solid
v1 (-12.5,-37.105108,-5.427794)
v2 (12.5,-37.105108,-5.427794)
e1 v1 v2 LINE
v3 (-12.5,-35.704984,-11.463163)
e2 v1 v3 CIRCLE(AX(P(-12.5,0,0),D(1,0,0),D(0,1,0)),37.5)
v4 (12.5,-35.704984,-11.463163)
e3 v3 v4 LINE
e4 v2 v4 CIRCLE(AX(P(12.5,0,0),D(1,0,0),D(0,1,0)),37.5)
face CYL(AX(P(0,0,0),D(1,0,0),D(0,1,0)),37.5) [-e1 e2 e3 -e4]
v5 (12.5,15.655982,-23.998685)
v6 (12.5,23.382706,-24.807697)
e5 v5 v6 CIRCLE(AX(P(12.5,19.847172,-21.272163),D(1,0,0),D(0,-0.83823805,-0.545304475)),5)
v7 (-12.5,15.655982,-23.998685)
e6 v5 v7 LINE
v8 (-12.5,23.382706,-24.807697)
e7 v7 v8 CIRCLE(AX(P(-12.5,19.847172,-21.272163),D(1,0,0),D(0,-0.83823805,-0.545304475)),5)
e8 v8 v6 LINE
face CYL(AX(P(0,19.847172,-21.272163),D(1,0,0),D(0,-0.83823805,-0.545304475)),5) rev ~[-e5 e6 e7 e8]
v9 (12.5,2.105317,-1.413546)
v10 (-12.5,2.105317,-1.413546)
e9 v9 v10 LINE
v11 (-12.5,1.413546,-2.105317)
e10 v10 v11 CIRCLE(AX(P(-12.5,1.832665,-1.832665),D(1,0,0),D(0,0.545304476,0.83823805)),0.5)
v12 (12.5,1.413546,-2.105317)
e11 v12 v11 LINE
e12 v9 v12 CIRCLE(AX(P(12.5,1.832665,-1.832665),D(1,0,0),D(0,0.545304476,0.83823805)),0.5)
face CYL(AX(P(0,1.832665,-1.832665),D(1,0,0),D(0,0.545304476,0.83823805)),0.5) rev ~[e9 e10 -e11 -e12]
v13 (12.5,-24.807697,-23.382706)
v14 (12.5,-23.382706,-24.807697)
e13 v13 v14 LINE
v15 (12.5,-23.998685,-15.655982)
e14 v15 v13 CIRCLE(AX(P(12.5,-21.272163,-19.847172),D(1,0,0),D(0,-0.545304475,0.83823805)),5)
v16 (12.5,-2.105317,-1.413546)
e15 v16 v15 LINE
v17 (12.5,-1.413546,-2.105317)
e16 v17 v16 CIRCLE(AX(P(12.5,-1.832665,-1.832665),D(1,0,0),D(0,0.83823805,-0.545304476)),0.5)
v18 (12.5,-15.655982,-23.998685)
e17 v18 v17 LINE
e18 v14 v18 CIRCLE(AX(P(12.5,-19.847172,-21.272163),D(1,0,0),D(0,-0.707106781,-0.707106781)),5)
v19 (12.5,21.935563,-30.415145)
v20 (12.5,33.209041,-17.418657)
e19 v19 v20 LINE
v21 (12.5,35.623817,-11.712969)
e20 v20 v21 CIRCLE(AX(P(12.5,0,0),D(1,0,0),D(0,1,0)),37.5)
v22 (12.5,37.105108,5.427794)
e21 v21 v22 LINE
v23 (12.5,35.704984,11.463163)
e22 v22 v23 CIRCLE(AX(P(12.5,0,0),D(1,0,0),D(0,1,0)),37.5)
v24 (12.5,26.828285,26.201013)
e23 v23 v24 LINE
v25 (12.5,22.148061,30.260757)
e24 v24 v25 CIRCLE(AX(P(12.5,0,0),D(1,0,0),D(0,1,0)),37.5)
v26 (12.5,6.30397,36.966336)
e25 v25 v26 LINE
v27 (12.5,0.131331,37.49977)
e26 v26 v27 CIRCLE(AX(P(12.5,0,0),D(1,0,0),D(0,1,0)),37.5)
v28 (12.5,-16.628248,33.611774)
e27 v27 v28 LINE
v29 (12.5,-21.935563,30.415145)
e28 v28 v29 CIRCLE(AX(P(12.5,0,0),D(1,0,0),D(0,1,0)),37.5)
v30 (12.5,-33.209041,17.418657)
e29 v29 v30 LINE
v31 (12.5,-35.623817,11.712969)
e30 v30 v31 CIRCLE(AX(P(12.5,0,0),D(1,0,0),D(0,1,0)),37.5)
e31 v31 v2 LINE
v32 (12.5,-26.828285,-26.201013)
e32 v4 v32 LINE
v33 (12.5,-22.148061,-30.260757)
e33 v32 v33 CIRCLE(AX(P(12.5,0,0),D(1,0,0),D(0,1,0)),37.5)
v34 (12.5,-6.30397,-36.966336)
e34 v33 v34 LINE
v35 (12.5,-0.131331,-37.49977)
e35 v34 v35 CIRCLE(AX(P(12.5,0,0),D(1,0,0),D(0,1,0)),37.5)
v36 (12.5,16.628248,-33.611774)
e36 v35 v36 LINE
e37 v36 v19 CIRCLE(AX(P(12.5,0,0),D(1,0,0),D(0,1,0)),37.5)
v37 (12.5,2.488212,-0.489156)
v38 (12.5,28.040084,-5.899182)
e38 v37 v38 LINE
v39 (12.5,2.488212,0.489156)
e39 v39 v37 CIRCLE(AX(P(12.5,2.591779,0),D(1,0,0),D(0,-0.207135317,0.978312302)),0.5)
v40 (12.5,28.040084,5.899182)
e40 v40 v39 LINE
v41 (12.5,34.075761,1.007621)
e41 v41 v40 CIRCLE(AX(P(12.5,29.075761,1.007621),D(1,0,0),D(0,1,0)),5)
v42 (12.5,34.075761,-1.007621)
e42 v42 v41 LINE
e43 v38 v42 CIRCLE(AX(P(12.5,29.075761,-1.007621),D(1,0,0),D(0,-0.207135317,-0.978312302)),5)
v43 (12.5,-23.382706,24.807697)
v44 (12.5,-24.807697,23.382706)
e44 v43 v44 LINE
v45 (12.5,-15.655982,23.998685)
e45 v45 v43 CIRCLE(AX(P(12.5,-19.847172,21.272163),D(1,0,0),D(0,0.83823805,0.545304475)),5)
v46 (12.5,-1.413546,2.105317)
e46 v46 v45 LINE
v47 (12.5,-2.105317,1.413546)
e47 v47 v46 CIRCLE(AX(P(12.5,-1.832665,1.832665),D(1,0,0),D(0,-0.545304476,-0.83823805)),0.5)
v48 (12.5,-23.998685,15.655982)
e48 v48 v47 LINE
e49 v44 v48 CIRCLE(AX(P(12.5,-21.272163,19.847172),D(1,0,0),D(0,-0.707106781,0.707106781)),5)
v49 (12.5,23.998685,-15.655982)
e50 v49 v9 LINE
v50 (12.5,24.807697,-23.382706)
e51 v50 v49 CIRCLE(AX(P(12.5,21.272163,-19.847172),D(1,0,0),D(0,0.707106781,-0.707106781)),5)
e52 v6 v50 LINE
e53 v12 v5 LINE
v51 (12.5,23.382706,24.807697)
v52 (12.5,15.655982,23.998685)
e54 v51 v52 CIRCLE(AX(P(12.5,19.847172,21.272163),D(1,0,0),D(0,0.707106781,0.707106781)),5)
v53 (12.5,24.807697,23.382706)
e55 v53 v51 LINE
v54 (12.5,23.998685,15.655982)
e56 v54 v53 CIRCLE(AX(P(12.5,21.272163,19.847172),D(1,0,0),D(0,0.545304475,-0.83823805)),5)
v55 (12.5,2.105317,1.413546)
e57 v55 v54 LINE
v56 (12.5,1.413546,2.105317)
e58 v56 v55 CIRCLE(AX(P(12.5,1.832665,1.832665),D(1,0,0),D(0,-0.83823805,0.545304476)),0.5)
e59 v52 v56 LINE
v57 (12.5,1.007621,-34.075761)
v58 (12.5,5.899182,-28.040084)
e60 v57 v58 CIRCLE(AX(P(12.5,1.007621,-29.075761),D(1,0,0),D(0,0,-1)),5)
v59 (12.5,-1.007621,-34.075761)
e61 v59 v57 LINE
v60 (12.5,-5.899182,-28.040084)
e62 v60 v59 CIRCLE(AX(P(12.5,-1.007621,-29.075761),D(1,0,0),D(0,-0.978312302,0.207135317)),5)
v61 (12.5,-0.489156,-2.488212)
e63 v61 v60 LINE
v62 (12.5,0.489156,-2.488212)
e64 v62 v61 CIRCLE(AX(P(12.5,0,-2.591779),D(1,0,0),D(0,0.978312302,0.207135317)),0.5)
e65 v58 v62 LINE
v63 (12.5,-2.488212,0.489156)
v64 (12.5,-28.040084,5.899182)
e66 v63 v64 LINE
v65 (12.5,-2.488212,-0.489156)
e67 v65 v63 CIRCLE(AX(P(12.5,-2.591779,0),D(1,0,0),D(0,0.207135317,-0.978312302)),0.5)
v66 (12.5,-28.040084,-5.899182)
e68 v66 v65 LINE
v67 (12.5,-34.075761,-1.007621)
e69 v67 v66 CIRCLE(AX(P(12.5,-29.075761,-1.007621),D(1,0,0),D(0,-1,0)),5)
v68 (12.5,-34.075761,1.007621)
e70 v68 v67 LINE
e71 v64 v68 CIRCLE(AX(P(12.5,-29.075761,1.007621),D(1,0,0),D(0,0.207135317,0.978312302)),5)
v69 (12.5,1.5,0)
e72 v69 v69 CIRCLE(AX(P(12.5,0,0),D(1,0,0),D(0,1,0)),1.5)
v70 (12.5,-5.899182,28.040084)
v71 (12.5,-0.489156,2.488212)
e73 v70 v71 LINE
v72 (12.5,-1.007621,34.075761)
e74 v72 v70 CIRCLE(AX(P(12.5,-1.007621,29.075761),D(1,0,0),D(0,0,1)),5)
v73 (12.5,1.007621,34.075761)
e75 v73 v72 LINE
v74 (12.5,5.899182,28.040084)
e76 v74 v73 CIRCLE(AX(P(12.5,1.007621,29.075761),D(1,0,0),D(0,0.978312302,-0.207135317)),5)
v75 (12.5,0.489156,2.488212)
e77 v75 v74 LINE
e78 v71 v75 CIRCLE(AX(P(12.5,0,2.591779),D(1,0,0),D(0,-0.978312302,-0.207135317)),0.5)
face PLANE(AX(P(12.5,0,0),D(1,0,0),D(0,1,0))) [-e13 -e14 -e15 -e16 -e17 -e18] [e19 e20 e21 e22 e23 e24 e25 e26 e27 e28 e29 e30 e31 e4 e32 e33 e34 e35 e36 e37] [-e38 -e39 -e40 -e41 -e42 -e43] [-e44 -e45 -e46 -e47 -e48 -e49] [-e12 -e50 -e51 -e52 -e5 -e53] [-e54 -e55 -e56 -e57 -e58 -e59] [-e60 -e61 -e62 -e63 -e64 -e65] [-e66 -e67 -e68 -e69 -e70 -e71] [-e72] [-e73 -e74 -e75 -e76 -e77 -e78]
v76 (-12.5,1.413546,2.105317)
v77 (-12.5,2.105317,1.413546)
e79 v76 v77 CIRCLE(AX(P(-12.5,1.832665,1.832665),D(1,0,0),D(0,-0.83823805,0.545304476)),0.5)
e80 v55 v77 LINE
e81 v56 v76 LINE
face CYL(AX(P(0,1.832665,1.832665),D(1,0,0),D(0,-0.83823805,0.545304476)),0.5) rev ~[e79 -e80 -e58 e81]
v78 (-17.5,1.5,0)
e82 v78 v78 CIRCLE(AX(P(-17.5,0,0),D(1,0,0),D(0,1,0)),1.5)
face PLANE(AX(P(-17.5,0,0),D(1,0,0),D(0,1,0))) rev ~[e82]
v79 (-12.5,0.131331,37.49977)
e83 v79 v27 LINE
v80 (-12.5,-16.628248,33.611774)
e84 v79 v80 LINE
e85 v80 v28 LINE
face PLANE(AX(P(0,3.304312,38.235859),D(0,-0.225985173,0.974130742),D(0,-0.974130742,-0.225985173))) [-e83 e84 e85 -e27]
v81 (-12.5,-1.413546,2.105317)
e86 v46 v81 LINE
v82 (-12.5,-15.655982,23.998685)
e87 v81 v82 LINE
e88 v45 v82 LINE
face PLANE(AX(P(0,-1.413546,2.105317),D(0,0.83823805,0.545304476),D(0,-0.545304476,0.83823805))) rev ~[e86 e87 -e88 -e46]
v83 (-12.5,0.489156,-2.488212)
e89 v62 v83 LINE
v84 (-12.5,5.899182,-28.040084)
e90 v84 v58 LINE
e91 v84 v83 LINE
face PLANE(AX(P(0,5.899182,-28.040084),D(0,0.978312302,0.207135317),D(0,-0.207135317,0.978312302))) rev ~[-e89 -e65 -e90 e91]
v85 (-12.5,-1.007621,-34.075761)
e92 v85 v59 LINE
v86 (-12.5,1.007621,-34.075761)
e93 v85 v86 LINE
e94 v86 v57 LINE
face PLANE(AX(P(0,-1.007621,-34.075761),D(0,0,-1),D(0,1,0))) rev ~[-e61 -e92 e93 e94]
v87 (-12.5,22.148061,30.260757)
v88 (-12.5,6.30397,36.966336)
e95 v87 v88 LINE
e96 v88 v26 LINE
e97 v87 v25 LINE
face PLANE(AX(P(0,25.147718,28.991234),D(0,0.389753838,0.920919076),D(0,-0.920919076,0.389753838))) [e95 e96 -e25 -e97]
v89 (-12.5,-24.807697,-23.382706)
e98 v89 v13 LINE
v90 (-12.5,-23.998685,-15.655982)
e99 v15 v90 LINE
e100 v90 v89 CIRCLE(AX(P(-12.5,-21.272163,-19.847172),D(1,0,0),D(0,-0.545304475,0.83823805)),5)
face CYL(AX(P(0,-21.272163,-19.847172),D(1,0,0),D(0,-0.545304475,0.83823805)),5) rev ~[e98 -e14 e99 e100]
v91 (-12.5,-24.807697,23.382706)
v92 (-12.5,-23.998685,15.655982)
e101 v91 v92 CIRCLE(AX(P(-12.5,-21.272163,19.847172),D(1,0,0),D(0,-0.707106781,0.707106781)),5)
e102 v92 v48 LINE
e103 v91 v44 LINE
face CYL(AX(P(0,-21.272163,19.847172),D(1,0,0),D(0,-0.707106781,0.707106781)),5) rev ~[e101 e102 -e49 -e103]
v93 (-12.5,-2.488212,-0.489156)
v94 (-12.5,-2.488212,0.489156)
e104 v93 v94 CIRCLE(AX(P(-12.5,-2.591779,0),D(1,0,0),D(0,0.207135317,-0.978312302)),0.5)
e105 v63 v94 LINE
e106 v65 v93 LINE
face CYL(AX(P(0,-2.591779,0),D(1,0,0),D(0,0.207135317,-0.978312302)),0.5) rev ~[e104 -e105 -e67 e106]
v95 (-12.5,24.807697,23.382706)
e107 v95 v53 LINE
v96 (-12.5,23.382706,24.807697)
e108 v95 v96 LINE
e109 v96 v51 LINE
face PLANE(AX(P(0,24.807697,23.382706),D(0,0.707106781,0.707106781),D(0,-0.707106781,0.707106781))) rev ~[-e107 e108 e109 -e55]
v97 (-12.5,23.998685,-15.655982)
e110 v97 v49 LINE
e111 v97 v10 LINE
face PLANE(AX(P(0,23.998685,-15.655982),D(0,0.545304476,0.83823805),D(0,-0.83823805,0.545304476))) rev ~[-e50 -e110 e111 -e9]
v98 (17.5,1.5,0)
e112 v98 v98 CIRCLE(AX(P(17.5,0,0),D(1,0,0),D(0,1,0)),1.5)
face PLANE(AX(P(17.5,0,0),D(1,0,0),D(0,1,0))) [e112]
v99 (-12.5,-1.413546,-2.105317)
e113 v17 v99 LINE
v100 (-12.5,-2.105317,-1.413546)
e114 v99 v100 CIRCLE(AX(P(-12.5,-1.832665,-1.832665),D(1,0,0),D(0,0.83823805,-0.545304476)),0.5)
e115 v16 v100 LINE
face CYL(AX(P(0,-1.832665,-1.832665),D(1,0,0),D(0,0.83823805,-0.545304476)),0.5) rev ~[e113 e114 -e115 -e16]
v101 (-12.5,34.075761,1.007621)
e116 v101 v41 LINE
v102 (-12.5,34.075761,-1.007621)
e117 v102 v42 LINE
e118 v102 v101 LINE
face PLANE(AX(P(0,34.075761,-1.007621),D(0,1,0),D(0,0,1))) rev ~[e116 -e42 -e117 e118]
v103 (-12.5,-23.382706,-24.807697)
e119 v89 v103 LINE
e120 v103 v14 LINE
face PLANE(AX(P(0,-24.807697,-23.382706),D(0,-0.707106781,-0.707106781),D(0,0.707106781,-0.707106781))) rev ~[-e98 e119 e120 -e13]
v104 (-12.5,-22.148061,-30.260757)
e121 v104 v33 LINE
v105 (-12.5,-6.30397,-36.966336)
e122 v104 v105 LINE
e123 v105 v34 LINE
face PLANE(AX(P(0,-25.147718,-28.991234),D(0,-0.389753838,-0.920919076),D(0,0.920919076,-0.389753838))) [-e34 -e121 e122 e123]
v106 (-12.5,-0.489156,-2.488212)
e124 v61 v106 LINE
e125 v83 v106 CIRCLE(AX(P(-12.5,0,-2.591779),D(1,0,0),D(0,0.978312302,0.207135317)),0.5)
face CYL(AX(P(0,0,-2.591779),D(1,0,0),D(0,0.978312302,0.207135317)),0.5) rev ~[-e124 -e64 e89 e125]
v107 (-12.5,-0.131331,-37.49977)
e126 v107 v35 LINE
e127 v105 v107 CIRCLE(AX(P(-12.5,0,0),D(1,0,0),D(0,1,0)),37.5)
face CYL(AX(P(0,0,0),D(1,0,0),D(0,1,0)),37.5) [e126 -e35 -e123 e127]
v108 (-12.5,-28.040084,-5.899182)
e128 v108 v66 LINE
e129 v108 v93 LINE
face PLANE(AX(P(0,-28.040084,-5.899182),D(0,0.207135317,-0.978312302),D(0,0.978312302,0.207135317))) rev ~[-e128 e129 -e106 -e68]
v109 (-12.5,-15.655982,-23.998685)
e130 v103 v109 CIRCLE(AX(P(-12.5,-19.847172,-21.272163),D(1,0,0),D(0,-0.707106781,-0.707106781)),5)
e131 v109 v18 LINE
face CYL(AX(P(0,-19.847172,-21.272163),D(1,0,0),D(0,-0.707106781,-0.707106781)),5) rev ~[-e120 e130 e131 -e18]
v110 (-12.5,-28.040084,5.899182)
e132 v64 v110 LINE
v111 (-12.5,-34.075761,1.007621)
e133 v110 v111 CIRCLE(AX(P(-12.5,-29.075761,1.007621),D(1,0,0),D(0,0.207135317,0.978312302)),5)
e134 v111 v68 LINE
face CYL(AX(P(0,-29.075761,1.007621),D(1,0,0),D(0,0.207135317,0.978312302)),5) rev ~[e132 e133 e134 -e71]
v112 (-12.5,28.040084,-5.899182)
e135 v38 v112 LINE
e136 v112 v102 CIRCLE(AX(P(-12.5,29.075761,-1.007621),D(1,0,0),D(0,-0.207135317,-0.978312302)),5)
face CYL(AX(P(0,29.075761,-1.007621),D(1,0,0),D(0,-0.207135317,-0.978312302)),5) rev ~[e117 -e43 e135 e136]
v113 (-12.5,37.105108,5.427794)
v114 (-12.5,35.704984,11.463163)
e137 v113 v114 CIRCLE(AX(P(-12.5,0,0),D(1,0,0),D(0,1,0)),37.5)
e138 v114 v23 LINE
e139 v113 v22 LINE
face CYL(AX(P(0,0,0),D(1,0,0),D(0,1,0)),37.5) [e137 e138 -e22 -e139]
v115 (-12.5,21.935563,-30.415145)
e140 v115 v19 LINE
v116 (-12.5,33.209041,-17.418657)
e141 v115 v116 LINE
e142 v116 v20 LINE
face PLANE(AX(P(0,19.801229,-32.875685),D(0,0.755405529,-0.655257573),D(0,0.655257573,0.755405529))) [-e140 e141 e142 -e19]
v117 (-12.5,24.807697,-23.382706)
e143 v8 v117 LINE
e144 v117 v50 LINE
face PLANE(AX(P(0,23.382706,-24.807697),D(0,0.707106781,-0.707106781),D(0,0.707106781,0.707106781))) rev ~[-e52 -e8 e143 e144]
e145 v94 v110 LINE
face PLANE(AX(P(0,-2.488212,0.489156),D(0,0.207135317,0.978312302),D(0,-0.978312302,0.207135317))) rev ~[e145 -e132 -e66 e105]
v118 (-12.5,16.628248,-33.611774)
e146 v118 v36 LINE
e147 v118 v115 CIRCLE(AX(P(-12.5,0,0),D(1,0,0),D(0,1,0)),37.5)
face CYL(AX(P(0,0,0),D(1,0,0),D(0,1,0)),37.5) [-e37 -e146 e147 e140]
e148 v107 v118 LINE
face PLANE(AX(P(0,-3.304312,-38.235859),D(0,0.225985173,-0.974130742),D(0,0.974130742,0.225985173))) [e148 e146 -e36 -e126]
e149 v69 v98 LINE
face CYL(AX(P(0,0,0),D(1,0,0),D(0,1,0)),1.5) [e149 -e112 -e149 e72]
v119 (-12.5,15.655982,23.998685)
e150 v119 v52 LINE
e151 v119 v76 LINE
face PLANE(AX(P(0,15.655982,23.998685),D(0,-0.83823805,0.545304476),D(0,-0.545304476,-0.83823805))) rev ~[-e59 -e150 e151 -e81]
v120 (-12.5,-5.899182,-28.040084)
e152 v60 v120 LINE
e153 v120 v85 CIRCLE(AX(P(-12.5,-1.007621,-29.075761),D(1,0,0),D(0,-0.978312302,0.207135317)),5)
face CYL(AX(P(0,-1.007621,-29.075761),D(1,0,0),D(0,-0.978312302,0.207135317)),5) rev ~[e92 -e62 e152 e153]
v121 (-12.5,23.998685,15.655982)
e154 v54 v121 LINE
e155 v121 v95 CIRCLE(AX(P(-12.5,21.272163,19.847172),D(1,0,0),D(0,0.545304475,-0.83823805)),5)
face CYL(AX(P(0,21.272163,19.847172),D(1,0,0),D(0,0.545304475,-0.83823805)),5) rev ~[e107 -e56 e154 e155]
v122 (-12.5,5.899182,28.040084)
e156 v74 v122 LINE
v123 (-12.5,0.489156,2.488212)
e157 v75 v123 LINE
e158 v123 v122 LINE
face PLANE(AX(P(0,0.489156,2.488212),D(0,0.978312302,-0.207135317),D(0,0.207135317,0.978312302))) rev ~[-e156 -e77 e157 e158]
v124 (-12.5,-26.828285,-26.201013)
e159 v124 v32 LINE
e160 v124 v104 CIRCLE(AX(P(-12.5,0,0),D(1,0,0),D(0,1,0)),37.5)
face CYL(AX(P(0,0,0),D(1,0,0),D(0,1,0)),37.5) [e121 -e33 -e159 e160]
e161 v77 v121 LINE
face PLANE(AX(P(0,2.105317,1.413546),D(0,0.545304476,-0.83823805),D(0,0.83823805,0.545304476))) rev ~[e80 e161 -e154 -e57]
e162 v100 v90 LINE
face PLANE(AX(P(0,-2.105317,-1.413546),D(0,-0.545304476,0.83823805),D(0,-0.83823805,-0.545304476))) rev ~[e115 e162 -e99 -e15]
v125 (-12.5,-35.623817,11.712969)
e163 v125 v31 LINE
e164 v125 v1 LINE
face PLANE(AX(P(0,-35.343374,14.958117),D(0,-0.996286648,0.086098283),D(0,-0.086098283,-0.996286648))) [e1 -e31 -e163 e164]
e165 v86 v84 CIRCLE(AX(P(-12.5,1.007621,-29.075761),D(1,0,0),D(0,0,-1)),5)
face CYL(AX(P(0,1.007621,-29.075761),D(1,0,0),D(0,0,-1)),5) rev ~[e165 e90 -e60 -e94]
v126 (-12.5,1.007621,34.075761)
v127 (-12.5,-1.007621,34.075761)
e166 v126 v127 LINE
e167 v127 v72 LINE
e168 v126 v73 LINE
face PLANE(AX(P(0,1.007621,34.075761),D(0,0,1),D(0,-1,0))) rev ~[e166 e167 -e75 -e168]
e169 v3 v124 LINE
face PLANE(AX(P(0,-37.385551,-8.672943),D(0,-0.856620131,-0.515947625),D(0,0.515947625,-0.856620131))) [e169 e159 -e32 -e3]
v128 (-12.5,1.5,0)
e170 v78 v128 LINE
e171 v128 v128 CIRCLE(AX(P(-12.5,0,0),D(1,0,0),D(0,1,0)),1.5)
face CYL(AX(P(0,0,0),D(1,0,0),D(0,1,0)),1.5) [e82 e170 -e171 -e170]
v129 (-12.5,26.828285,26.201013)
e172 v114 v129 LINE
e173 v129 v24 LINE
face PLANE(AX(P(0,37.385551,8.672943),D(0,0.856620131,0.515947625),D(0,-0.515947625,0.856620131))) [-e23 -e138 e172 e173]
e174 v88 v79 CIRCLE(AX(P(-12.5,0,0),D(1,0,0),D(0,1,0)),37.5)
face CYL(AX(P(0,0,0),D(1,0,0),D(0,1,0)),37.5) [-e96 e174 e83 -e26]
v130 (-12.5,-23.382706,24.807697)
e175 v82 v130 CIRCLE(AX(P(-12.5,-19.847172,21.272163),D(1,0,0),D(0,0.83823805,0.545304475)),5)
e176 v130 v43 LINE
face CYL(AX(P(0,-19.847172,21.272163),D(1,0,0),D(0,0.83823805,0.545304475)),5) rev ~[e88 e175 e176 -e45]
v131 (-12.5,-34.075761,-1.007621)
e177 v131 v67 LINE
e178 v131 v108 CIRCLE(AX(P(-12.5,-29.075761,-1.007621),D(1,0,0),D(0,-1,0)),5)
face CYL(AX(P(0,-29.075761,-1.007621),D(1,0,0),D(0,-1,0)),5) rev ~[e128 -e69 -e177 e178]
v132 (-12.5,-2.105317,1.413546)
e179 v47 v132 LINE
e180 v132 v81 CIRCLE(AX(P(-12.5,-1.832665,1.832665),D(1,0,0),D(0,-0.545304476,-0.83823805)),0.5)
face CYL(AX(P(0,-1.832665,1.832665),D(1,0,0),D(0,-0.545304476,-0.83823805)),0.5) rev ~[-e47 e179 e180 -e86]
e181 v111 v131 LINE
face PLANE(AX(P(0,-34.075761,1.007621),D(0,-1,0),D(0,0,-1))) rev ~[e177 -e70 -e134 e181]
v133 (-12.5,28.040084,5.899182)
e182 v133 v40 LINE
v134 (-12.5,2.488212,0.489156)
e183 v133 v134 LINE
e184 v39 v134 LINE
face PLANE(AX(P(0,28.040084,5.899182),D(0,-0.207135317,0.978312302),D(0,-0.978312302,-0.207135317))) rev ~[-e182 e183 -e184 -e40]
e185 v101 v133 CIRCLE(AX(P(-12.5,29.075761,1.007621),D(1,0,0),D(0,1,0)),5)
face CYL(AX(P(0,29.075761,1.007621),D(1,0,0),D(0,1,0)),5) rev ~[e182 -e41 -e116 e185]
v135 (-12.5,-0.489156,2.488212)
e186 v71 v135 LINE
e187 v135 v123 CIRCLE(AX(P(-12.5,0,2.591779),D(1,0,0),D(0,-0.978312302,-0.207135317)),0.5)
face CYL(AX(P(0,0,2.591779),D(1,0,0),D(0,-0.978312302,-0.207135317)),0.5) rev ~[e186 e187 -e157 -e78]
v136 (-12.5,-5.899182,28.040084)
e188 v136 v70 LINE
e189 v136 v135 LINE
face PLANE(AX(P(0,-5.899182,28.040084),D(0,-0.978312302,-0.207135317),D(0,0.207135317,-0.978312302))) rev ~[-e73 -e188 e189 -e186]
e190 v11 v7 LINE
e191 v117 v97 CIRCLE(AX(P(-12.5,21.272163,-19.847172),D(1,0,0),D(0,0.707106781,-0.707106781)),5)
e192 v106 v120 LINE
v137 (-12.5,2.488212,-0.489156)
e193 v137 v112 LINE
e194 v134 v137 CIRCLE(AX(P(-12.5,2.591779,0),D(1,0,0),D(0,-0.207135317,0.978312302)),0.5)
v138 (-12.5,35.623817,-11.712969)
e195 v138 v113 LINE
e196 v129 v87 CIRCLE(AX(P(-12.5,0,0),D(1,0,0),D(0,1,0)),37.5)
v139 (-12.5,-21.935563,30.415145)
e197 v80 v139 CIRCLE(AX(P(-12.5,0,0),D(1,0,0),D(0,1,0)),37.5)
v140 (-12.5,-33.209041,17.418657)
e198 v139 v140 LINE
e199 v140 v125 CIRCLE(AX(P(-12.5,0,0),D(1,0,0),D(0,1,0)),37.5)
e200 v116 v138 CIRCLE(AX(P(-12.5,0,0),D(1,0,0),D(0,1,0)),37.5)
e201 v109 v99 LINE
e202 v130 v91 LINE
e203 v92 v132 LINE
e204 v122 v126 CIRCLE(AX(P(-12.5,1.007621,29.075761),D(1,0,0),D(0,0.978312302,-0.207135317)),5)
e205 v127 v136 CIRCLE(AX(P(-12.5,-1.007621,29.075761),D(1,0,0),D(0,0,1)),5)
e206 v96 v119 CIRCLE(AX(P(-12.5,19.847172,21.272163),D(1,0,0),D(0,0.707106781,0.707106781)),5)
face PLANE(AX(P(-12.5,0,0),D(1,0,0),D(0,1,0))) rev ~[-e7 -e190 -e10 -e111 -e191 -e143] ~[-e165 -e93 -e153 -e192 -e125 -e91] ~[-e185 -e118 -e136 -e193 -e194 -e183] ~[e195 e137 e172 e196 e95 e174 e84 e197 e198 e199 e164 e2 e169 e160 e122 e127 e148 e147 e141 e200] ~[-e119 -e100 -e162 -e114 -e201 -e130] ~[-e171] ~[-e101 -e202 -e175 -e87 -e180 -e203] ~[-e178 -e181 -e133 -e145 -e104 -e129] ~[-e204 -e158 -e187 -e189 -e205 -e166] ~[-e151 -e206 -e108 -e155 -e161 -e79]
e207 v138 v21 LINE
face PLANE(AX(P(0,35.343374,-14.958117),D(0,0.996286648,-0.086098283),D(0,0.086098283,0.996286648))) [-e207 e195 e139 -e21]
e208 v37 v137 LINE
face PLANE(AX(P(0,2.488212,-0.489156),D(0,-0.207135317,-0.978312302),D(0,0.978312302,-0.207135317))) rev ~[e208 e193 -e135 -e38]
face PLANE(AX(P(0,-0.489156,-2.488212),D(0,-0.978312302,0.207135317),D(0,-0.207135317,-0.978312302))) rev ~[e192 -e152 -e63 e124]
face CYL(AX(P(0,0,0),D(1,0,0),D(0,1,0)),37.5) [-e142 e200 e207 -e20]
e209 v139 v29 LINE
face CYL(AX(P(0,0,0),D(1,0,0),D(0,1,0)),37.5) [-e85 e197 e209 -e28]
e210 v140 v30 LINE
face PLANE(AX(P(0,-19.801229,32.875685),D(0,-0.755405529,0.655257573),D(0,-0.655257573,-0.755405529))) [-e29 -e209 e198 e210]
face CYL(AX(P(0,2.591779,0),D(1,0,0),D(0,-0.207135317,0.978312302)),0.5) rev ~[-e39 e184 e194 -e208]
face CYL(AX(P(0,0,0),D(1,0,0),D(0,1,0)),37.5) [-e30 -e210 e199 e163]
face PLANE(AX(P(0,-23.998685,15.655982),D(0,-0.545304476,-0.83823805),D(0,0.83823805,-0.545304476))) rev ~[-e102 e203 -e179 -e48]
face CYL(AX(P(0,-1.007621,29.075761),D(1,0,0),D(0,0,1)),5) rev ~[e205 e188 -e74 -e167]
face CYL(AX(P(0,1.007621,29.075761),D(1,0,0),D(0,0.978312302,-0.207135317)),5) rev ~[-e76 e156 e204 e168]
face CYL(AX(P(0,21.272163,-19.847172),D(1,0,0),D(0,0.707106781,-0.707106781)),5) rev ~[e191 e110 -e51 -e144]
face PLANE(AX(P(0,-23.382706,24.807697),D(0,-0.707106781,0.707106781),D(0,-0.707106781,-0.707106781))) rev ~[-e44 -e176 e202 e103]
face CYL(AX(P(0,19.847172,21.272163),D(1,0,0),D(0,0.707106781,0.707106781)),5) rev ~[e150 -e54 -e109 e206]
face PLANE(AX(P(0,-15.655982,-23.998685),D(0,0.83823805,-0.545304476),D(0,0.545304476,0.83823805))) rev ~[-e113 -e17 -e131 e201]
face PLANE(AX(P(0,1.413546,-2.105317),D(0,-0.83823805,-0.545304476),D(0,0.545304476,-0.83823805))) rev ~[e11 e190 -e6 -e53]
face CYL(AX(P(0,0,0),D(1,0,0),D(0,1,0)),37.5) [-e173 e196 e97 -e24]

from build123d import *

# Parameters (mm, degrees)
F0_R     = 37.5
F1_DEPTH = 12.5
F3_DEPTH = 12.5
F4_COUNT = 8
F6_DEPTH = 12.5
F7_R     = 1.5
F8_DEPTH = 17.5


with BuildPart() as f1:
    # F0 (on Right) → F1 (new body, symmetric)
    with BuildSketch(Plane.YZ):
        Circle(F0_R)
    extrude(amount=F1_DEPTH, both=True)

    # F2 (on Right) → F3 (cut, symmetric)
    with BuildSketch(Plane.YZ):
        with BuildLine():
            ThreePointArc((5.8991823905, 28.0400841101), (4.892101729, 32.223904361), (1.0076208802, 34.075760696))
            Line((1.0076208802, 34.075760696), (-1.0076208802, 34.075760696))
            ThreePointArc((-1.0076208802, 34.075760696), (-4.892101729, 32.223904361), (-5.8991823905, 28.0400841101))
            Line((-5.8991823905, 28.0400841101), (-0.489156151, 2.4882115641))
            ThreePointArc((-0.489156151, 2.4882115641), (0, 2.0917792227), (0.489156151, 2.4882115641))
            Line((0.489156151, 2.4882115641), (5.8991823905, 28.0400841101))
        make_face()
    f3 = extrude(amount=F3_DEPTH, both=True, mode=Mode.SUBTRACT)

    # F4: F3 ×8 about axis
    f4_axis = Axis((12.5, 0, 0), (1, 0, 0))
    for i in range(1, F4_COUNT):
        add(f3.rotate(f4_axis, i * 360 / F4_COUNT), mode=Mode.SUBTRACT)

    # F5 (on Right) → F6 (intersect, symmetric)
    with BuildSketch(Plane.YZ):
        Polygon((37.3855511828, 8.6729428424), (25.1477183542, 28.9912337848), (3.3043118538, 38.2358587972), (-19.8012294653, 32.8756853382), (-35.3433741477, 14.9581174833), (-37.3855511828, -8.6729428424), (-25.1477183542, -28.9912337848), (-3.3043118538, -38.2358587972), (19.8012294653, -32.8756853382), (35.3433741477, -14.9581174833), align=None)
    extrude(amount=F6_DEPTH, both=True, mode=Mode.INTERSECT)

    # F7 (on Right) → F8 (join, symmetric)
    with BuildSketch(Plane.YZ):
        Circle(F7_R)
    extrude(amount=F8_DEPTH, both=True)


solid = f1.part
